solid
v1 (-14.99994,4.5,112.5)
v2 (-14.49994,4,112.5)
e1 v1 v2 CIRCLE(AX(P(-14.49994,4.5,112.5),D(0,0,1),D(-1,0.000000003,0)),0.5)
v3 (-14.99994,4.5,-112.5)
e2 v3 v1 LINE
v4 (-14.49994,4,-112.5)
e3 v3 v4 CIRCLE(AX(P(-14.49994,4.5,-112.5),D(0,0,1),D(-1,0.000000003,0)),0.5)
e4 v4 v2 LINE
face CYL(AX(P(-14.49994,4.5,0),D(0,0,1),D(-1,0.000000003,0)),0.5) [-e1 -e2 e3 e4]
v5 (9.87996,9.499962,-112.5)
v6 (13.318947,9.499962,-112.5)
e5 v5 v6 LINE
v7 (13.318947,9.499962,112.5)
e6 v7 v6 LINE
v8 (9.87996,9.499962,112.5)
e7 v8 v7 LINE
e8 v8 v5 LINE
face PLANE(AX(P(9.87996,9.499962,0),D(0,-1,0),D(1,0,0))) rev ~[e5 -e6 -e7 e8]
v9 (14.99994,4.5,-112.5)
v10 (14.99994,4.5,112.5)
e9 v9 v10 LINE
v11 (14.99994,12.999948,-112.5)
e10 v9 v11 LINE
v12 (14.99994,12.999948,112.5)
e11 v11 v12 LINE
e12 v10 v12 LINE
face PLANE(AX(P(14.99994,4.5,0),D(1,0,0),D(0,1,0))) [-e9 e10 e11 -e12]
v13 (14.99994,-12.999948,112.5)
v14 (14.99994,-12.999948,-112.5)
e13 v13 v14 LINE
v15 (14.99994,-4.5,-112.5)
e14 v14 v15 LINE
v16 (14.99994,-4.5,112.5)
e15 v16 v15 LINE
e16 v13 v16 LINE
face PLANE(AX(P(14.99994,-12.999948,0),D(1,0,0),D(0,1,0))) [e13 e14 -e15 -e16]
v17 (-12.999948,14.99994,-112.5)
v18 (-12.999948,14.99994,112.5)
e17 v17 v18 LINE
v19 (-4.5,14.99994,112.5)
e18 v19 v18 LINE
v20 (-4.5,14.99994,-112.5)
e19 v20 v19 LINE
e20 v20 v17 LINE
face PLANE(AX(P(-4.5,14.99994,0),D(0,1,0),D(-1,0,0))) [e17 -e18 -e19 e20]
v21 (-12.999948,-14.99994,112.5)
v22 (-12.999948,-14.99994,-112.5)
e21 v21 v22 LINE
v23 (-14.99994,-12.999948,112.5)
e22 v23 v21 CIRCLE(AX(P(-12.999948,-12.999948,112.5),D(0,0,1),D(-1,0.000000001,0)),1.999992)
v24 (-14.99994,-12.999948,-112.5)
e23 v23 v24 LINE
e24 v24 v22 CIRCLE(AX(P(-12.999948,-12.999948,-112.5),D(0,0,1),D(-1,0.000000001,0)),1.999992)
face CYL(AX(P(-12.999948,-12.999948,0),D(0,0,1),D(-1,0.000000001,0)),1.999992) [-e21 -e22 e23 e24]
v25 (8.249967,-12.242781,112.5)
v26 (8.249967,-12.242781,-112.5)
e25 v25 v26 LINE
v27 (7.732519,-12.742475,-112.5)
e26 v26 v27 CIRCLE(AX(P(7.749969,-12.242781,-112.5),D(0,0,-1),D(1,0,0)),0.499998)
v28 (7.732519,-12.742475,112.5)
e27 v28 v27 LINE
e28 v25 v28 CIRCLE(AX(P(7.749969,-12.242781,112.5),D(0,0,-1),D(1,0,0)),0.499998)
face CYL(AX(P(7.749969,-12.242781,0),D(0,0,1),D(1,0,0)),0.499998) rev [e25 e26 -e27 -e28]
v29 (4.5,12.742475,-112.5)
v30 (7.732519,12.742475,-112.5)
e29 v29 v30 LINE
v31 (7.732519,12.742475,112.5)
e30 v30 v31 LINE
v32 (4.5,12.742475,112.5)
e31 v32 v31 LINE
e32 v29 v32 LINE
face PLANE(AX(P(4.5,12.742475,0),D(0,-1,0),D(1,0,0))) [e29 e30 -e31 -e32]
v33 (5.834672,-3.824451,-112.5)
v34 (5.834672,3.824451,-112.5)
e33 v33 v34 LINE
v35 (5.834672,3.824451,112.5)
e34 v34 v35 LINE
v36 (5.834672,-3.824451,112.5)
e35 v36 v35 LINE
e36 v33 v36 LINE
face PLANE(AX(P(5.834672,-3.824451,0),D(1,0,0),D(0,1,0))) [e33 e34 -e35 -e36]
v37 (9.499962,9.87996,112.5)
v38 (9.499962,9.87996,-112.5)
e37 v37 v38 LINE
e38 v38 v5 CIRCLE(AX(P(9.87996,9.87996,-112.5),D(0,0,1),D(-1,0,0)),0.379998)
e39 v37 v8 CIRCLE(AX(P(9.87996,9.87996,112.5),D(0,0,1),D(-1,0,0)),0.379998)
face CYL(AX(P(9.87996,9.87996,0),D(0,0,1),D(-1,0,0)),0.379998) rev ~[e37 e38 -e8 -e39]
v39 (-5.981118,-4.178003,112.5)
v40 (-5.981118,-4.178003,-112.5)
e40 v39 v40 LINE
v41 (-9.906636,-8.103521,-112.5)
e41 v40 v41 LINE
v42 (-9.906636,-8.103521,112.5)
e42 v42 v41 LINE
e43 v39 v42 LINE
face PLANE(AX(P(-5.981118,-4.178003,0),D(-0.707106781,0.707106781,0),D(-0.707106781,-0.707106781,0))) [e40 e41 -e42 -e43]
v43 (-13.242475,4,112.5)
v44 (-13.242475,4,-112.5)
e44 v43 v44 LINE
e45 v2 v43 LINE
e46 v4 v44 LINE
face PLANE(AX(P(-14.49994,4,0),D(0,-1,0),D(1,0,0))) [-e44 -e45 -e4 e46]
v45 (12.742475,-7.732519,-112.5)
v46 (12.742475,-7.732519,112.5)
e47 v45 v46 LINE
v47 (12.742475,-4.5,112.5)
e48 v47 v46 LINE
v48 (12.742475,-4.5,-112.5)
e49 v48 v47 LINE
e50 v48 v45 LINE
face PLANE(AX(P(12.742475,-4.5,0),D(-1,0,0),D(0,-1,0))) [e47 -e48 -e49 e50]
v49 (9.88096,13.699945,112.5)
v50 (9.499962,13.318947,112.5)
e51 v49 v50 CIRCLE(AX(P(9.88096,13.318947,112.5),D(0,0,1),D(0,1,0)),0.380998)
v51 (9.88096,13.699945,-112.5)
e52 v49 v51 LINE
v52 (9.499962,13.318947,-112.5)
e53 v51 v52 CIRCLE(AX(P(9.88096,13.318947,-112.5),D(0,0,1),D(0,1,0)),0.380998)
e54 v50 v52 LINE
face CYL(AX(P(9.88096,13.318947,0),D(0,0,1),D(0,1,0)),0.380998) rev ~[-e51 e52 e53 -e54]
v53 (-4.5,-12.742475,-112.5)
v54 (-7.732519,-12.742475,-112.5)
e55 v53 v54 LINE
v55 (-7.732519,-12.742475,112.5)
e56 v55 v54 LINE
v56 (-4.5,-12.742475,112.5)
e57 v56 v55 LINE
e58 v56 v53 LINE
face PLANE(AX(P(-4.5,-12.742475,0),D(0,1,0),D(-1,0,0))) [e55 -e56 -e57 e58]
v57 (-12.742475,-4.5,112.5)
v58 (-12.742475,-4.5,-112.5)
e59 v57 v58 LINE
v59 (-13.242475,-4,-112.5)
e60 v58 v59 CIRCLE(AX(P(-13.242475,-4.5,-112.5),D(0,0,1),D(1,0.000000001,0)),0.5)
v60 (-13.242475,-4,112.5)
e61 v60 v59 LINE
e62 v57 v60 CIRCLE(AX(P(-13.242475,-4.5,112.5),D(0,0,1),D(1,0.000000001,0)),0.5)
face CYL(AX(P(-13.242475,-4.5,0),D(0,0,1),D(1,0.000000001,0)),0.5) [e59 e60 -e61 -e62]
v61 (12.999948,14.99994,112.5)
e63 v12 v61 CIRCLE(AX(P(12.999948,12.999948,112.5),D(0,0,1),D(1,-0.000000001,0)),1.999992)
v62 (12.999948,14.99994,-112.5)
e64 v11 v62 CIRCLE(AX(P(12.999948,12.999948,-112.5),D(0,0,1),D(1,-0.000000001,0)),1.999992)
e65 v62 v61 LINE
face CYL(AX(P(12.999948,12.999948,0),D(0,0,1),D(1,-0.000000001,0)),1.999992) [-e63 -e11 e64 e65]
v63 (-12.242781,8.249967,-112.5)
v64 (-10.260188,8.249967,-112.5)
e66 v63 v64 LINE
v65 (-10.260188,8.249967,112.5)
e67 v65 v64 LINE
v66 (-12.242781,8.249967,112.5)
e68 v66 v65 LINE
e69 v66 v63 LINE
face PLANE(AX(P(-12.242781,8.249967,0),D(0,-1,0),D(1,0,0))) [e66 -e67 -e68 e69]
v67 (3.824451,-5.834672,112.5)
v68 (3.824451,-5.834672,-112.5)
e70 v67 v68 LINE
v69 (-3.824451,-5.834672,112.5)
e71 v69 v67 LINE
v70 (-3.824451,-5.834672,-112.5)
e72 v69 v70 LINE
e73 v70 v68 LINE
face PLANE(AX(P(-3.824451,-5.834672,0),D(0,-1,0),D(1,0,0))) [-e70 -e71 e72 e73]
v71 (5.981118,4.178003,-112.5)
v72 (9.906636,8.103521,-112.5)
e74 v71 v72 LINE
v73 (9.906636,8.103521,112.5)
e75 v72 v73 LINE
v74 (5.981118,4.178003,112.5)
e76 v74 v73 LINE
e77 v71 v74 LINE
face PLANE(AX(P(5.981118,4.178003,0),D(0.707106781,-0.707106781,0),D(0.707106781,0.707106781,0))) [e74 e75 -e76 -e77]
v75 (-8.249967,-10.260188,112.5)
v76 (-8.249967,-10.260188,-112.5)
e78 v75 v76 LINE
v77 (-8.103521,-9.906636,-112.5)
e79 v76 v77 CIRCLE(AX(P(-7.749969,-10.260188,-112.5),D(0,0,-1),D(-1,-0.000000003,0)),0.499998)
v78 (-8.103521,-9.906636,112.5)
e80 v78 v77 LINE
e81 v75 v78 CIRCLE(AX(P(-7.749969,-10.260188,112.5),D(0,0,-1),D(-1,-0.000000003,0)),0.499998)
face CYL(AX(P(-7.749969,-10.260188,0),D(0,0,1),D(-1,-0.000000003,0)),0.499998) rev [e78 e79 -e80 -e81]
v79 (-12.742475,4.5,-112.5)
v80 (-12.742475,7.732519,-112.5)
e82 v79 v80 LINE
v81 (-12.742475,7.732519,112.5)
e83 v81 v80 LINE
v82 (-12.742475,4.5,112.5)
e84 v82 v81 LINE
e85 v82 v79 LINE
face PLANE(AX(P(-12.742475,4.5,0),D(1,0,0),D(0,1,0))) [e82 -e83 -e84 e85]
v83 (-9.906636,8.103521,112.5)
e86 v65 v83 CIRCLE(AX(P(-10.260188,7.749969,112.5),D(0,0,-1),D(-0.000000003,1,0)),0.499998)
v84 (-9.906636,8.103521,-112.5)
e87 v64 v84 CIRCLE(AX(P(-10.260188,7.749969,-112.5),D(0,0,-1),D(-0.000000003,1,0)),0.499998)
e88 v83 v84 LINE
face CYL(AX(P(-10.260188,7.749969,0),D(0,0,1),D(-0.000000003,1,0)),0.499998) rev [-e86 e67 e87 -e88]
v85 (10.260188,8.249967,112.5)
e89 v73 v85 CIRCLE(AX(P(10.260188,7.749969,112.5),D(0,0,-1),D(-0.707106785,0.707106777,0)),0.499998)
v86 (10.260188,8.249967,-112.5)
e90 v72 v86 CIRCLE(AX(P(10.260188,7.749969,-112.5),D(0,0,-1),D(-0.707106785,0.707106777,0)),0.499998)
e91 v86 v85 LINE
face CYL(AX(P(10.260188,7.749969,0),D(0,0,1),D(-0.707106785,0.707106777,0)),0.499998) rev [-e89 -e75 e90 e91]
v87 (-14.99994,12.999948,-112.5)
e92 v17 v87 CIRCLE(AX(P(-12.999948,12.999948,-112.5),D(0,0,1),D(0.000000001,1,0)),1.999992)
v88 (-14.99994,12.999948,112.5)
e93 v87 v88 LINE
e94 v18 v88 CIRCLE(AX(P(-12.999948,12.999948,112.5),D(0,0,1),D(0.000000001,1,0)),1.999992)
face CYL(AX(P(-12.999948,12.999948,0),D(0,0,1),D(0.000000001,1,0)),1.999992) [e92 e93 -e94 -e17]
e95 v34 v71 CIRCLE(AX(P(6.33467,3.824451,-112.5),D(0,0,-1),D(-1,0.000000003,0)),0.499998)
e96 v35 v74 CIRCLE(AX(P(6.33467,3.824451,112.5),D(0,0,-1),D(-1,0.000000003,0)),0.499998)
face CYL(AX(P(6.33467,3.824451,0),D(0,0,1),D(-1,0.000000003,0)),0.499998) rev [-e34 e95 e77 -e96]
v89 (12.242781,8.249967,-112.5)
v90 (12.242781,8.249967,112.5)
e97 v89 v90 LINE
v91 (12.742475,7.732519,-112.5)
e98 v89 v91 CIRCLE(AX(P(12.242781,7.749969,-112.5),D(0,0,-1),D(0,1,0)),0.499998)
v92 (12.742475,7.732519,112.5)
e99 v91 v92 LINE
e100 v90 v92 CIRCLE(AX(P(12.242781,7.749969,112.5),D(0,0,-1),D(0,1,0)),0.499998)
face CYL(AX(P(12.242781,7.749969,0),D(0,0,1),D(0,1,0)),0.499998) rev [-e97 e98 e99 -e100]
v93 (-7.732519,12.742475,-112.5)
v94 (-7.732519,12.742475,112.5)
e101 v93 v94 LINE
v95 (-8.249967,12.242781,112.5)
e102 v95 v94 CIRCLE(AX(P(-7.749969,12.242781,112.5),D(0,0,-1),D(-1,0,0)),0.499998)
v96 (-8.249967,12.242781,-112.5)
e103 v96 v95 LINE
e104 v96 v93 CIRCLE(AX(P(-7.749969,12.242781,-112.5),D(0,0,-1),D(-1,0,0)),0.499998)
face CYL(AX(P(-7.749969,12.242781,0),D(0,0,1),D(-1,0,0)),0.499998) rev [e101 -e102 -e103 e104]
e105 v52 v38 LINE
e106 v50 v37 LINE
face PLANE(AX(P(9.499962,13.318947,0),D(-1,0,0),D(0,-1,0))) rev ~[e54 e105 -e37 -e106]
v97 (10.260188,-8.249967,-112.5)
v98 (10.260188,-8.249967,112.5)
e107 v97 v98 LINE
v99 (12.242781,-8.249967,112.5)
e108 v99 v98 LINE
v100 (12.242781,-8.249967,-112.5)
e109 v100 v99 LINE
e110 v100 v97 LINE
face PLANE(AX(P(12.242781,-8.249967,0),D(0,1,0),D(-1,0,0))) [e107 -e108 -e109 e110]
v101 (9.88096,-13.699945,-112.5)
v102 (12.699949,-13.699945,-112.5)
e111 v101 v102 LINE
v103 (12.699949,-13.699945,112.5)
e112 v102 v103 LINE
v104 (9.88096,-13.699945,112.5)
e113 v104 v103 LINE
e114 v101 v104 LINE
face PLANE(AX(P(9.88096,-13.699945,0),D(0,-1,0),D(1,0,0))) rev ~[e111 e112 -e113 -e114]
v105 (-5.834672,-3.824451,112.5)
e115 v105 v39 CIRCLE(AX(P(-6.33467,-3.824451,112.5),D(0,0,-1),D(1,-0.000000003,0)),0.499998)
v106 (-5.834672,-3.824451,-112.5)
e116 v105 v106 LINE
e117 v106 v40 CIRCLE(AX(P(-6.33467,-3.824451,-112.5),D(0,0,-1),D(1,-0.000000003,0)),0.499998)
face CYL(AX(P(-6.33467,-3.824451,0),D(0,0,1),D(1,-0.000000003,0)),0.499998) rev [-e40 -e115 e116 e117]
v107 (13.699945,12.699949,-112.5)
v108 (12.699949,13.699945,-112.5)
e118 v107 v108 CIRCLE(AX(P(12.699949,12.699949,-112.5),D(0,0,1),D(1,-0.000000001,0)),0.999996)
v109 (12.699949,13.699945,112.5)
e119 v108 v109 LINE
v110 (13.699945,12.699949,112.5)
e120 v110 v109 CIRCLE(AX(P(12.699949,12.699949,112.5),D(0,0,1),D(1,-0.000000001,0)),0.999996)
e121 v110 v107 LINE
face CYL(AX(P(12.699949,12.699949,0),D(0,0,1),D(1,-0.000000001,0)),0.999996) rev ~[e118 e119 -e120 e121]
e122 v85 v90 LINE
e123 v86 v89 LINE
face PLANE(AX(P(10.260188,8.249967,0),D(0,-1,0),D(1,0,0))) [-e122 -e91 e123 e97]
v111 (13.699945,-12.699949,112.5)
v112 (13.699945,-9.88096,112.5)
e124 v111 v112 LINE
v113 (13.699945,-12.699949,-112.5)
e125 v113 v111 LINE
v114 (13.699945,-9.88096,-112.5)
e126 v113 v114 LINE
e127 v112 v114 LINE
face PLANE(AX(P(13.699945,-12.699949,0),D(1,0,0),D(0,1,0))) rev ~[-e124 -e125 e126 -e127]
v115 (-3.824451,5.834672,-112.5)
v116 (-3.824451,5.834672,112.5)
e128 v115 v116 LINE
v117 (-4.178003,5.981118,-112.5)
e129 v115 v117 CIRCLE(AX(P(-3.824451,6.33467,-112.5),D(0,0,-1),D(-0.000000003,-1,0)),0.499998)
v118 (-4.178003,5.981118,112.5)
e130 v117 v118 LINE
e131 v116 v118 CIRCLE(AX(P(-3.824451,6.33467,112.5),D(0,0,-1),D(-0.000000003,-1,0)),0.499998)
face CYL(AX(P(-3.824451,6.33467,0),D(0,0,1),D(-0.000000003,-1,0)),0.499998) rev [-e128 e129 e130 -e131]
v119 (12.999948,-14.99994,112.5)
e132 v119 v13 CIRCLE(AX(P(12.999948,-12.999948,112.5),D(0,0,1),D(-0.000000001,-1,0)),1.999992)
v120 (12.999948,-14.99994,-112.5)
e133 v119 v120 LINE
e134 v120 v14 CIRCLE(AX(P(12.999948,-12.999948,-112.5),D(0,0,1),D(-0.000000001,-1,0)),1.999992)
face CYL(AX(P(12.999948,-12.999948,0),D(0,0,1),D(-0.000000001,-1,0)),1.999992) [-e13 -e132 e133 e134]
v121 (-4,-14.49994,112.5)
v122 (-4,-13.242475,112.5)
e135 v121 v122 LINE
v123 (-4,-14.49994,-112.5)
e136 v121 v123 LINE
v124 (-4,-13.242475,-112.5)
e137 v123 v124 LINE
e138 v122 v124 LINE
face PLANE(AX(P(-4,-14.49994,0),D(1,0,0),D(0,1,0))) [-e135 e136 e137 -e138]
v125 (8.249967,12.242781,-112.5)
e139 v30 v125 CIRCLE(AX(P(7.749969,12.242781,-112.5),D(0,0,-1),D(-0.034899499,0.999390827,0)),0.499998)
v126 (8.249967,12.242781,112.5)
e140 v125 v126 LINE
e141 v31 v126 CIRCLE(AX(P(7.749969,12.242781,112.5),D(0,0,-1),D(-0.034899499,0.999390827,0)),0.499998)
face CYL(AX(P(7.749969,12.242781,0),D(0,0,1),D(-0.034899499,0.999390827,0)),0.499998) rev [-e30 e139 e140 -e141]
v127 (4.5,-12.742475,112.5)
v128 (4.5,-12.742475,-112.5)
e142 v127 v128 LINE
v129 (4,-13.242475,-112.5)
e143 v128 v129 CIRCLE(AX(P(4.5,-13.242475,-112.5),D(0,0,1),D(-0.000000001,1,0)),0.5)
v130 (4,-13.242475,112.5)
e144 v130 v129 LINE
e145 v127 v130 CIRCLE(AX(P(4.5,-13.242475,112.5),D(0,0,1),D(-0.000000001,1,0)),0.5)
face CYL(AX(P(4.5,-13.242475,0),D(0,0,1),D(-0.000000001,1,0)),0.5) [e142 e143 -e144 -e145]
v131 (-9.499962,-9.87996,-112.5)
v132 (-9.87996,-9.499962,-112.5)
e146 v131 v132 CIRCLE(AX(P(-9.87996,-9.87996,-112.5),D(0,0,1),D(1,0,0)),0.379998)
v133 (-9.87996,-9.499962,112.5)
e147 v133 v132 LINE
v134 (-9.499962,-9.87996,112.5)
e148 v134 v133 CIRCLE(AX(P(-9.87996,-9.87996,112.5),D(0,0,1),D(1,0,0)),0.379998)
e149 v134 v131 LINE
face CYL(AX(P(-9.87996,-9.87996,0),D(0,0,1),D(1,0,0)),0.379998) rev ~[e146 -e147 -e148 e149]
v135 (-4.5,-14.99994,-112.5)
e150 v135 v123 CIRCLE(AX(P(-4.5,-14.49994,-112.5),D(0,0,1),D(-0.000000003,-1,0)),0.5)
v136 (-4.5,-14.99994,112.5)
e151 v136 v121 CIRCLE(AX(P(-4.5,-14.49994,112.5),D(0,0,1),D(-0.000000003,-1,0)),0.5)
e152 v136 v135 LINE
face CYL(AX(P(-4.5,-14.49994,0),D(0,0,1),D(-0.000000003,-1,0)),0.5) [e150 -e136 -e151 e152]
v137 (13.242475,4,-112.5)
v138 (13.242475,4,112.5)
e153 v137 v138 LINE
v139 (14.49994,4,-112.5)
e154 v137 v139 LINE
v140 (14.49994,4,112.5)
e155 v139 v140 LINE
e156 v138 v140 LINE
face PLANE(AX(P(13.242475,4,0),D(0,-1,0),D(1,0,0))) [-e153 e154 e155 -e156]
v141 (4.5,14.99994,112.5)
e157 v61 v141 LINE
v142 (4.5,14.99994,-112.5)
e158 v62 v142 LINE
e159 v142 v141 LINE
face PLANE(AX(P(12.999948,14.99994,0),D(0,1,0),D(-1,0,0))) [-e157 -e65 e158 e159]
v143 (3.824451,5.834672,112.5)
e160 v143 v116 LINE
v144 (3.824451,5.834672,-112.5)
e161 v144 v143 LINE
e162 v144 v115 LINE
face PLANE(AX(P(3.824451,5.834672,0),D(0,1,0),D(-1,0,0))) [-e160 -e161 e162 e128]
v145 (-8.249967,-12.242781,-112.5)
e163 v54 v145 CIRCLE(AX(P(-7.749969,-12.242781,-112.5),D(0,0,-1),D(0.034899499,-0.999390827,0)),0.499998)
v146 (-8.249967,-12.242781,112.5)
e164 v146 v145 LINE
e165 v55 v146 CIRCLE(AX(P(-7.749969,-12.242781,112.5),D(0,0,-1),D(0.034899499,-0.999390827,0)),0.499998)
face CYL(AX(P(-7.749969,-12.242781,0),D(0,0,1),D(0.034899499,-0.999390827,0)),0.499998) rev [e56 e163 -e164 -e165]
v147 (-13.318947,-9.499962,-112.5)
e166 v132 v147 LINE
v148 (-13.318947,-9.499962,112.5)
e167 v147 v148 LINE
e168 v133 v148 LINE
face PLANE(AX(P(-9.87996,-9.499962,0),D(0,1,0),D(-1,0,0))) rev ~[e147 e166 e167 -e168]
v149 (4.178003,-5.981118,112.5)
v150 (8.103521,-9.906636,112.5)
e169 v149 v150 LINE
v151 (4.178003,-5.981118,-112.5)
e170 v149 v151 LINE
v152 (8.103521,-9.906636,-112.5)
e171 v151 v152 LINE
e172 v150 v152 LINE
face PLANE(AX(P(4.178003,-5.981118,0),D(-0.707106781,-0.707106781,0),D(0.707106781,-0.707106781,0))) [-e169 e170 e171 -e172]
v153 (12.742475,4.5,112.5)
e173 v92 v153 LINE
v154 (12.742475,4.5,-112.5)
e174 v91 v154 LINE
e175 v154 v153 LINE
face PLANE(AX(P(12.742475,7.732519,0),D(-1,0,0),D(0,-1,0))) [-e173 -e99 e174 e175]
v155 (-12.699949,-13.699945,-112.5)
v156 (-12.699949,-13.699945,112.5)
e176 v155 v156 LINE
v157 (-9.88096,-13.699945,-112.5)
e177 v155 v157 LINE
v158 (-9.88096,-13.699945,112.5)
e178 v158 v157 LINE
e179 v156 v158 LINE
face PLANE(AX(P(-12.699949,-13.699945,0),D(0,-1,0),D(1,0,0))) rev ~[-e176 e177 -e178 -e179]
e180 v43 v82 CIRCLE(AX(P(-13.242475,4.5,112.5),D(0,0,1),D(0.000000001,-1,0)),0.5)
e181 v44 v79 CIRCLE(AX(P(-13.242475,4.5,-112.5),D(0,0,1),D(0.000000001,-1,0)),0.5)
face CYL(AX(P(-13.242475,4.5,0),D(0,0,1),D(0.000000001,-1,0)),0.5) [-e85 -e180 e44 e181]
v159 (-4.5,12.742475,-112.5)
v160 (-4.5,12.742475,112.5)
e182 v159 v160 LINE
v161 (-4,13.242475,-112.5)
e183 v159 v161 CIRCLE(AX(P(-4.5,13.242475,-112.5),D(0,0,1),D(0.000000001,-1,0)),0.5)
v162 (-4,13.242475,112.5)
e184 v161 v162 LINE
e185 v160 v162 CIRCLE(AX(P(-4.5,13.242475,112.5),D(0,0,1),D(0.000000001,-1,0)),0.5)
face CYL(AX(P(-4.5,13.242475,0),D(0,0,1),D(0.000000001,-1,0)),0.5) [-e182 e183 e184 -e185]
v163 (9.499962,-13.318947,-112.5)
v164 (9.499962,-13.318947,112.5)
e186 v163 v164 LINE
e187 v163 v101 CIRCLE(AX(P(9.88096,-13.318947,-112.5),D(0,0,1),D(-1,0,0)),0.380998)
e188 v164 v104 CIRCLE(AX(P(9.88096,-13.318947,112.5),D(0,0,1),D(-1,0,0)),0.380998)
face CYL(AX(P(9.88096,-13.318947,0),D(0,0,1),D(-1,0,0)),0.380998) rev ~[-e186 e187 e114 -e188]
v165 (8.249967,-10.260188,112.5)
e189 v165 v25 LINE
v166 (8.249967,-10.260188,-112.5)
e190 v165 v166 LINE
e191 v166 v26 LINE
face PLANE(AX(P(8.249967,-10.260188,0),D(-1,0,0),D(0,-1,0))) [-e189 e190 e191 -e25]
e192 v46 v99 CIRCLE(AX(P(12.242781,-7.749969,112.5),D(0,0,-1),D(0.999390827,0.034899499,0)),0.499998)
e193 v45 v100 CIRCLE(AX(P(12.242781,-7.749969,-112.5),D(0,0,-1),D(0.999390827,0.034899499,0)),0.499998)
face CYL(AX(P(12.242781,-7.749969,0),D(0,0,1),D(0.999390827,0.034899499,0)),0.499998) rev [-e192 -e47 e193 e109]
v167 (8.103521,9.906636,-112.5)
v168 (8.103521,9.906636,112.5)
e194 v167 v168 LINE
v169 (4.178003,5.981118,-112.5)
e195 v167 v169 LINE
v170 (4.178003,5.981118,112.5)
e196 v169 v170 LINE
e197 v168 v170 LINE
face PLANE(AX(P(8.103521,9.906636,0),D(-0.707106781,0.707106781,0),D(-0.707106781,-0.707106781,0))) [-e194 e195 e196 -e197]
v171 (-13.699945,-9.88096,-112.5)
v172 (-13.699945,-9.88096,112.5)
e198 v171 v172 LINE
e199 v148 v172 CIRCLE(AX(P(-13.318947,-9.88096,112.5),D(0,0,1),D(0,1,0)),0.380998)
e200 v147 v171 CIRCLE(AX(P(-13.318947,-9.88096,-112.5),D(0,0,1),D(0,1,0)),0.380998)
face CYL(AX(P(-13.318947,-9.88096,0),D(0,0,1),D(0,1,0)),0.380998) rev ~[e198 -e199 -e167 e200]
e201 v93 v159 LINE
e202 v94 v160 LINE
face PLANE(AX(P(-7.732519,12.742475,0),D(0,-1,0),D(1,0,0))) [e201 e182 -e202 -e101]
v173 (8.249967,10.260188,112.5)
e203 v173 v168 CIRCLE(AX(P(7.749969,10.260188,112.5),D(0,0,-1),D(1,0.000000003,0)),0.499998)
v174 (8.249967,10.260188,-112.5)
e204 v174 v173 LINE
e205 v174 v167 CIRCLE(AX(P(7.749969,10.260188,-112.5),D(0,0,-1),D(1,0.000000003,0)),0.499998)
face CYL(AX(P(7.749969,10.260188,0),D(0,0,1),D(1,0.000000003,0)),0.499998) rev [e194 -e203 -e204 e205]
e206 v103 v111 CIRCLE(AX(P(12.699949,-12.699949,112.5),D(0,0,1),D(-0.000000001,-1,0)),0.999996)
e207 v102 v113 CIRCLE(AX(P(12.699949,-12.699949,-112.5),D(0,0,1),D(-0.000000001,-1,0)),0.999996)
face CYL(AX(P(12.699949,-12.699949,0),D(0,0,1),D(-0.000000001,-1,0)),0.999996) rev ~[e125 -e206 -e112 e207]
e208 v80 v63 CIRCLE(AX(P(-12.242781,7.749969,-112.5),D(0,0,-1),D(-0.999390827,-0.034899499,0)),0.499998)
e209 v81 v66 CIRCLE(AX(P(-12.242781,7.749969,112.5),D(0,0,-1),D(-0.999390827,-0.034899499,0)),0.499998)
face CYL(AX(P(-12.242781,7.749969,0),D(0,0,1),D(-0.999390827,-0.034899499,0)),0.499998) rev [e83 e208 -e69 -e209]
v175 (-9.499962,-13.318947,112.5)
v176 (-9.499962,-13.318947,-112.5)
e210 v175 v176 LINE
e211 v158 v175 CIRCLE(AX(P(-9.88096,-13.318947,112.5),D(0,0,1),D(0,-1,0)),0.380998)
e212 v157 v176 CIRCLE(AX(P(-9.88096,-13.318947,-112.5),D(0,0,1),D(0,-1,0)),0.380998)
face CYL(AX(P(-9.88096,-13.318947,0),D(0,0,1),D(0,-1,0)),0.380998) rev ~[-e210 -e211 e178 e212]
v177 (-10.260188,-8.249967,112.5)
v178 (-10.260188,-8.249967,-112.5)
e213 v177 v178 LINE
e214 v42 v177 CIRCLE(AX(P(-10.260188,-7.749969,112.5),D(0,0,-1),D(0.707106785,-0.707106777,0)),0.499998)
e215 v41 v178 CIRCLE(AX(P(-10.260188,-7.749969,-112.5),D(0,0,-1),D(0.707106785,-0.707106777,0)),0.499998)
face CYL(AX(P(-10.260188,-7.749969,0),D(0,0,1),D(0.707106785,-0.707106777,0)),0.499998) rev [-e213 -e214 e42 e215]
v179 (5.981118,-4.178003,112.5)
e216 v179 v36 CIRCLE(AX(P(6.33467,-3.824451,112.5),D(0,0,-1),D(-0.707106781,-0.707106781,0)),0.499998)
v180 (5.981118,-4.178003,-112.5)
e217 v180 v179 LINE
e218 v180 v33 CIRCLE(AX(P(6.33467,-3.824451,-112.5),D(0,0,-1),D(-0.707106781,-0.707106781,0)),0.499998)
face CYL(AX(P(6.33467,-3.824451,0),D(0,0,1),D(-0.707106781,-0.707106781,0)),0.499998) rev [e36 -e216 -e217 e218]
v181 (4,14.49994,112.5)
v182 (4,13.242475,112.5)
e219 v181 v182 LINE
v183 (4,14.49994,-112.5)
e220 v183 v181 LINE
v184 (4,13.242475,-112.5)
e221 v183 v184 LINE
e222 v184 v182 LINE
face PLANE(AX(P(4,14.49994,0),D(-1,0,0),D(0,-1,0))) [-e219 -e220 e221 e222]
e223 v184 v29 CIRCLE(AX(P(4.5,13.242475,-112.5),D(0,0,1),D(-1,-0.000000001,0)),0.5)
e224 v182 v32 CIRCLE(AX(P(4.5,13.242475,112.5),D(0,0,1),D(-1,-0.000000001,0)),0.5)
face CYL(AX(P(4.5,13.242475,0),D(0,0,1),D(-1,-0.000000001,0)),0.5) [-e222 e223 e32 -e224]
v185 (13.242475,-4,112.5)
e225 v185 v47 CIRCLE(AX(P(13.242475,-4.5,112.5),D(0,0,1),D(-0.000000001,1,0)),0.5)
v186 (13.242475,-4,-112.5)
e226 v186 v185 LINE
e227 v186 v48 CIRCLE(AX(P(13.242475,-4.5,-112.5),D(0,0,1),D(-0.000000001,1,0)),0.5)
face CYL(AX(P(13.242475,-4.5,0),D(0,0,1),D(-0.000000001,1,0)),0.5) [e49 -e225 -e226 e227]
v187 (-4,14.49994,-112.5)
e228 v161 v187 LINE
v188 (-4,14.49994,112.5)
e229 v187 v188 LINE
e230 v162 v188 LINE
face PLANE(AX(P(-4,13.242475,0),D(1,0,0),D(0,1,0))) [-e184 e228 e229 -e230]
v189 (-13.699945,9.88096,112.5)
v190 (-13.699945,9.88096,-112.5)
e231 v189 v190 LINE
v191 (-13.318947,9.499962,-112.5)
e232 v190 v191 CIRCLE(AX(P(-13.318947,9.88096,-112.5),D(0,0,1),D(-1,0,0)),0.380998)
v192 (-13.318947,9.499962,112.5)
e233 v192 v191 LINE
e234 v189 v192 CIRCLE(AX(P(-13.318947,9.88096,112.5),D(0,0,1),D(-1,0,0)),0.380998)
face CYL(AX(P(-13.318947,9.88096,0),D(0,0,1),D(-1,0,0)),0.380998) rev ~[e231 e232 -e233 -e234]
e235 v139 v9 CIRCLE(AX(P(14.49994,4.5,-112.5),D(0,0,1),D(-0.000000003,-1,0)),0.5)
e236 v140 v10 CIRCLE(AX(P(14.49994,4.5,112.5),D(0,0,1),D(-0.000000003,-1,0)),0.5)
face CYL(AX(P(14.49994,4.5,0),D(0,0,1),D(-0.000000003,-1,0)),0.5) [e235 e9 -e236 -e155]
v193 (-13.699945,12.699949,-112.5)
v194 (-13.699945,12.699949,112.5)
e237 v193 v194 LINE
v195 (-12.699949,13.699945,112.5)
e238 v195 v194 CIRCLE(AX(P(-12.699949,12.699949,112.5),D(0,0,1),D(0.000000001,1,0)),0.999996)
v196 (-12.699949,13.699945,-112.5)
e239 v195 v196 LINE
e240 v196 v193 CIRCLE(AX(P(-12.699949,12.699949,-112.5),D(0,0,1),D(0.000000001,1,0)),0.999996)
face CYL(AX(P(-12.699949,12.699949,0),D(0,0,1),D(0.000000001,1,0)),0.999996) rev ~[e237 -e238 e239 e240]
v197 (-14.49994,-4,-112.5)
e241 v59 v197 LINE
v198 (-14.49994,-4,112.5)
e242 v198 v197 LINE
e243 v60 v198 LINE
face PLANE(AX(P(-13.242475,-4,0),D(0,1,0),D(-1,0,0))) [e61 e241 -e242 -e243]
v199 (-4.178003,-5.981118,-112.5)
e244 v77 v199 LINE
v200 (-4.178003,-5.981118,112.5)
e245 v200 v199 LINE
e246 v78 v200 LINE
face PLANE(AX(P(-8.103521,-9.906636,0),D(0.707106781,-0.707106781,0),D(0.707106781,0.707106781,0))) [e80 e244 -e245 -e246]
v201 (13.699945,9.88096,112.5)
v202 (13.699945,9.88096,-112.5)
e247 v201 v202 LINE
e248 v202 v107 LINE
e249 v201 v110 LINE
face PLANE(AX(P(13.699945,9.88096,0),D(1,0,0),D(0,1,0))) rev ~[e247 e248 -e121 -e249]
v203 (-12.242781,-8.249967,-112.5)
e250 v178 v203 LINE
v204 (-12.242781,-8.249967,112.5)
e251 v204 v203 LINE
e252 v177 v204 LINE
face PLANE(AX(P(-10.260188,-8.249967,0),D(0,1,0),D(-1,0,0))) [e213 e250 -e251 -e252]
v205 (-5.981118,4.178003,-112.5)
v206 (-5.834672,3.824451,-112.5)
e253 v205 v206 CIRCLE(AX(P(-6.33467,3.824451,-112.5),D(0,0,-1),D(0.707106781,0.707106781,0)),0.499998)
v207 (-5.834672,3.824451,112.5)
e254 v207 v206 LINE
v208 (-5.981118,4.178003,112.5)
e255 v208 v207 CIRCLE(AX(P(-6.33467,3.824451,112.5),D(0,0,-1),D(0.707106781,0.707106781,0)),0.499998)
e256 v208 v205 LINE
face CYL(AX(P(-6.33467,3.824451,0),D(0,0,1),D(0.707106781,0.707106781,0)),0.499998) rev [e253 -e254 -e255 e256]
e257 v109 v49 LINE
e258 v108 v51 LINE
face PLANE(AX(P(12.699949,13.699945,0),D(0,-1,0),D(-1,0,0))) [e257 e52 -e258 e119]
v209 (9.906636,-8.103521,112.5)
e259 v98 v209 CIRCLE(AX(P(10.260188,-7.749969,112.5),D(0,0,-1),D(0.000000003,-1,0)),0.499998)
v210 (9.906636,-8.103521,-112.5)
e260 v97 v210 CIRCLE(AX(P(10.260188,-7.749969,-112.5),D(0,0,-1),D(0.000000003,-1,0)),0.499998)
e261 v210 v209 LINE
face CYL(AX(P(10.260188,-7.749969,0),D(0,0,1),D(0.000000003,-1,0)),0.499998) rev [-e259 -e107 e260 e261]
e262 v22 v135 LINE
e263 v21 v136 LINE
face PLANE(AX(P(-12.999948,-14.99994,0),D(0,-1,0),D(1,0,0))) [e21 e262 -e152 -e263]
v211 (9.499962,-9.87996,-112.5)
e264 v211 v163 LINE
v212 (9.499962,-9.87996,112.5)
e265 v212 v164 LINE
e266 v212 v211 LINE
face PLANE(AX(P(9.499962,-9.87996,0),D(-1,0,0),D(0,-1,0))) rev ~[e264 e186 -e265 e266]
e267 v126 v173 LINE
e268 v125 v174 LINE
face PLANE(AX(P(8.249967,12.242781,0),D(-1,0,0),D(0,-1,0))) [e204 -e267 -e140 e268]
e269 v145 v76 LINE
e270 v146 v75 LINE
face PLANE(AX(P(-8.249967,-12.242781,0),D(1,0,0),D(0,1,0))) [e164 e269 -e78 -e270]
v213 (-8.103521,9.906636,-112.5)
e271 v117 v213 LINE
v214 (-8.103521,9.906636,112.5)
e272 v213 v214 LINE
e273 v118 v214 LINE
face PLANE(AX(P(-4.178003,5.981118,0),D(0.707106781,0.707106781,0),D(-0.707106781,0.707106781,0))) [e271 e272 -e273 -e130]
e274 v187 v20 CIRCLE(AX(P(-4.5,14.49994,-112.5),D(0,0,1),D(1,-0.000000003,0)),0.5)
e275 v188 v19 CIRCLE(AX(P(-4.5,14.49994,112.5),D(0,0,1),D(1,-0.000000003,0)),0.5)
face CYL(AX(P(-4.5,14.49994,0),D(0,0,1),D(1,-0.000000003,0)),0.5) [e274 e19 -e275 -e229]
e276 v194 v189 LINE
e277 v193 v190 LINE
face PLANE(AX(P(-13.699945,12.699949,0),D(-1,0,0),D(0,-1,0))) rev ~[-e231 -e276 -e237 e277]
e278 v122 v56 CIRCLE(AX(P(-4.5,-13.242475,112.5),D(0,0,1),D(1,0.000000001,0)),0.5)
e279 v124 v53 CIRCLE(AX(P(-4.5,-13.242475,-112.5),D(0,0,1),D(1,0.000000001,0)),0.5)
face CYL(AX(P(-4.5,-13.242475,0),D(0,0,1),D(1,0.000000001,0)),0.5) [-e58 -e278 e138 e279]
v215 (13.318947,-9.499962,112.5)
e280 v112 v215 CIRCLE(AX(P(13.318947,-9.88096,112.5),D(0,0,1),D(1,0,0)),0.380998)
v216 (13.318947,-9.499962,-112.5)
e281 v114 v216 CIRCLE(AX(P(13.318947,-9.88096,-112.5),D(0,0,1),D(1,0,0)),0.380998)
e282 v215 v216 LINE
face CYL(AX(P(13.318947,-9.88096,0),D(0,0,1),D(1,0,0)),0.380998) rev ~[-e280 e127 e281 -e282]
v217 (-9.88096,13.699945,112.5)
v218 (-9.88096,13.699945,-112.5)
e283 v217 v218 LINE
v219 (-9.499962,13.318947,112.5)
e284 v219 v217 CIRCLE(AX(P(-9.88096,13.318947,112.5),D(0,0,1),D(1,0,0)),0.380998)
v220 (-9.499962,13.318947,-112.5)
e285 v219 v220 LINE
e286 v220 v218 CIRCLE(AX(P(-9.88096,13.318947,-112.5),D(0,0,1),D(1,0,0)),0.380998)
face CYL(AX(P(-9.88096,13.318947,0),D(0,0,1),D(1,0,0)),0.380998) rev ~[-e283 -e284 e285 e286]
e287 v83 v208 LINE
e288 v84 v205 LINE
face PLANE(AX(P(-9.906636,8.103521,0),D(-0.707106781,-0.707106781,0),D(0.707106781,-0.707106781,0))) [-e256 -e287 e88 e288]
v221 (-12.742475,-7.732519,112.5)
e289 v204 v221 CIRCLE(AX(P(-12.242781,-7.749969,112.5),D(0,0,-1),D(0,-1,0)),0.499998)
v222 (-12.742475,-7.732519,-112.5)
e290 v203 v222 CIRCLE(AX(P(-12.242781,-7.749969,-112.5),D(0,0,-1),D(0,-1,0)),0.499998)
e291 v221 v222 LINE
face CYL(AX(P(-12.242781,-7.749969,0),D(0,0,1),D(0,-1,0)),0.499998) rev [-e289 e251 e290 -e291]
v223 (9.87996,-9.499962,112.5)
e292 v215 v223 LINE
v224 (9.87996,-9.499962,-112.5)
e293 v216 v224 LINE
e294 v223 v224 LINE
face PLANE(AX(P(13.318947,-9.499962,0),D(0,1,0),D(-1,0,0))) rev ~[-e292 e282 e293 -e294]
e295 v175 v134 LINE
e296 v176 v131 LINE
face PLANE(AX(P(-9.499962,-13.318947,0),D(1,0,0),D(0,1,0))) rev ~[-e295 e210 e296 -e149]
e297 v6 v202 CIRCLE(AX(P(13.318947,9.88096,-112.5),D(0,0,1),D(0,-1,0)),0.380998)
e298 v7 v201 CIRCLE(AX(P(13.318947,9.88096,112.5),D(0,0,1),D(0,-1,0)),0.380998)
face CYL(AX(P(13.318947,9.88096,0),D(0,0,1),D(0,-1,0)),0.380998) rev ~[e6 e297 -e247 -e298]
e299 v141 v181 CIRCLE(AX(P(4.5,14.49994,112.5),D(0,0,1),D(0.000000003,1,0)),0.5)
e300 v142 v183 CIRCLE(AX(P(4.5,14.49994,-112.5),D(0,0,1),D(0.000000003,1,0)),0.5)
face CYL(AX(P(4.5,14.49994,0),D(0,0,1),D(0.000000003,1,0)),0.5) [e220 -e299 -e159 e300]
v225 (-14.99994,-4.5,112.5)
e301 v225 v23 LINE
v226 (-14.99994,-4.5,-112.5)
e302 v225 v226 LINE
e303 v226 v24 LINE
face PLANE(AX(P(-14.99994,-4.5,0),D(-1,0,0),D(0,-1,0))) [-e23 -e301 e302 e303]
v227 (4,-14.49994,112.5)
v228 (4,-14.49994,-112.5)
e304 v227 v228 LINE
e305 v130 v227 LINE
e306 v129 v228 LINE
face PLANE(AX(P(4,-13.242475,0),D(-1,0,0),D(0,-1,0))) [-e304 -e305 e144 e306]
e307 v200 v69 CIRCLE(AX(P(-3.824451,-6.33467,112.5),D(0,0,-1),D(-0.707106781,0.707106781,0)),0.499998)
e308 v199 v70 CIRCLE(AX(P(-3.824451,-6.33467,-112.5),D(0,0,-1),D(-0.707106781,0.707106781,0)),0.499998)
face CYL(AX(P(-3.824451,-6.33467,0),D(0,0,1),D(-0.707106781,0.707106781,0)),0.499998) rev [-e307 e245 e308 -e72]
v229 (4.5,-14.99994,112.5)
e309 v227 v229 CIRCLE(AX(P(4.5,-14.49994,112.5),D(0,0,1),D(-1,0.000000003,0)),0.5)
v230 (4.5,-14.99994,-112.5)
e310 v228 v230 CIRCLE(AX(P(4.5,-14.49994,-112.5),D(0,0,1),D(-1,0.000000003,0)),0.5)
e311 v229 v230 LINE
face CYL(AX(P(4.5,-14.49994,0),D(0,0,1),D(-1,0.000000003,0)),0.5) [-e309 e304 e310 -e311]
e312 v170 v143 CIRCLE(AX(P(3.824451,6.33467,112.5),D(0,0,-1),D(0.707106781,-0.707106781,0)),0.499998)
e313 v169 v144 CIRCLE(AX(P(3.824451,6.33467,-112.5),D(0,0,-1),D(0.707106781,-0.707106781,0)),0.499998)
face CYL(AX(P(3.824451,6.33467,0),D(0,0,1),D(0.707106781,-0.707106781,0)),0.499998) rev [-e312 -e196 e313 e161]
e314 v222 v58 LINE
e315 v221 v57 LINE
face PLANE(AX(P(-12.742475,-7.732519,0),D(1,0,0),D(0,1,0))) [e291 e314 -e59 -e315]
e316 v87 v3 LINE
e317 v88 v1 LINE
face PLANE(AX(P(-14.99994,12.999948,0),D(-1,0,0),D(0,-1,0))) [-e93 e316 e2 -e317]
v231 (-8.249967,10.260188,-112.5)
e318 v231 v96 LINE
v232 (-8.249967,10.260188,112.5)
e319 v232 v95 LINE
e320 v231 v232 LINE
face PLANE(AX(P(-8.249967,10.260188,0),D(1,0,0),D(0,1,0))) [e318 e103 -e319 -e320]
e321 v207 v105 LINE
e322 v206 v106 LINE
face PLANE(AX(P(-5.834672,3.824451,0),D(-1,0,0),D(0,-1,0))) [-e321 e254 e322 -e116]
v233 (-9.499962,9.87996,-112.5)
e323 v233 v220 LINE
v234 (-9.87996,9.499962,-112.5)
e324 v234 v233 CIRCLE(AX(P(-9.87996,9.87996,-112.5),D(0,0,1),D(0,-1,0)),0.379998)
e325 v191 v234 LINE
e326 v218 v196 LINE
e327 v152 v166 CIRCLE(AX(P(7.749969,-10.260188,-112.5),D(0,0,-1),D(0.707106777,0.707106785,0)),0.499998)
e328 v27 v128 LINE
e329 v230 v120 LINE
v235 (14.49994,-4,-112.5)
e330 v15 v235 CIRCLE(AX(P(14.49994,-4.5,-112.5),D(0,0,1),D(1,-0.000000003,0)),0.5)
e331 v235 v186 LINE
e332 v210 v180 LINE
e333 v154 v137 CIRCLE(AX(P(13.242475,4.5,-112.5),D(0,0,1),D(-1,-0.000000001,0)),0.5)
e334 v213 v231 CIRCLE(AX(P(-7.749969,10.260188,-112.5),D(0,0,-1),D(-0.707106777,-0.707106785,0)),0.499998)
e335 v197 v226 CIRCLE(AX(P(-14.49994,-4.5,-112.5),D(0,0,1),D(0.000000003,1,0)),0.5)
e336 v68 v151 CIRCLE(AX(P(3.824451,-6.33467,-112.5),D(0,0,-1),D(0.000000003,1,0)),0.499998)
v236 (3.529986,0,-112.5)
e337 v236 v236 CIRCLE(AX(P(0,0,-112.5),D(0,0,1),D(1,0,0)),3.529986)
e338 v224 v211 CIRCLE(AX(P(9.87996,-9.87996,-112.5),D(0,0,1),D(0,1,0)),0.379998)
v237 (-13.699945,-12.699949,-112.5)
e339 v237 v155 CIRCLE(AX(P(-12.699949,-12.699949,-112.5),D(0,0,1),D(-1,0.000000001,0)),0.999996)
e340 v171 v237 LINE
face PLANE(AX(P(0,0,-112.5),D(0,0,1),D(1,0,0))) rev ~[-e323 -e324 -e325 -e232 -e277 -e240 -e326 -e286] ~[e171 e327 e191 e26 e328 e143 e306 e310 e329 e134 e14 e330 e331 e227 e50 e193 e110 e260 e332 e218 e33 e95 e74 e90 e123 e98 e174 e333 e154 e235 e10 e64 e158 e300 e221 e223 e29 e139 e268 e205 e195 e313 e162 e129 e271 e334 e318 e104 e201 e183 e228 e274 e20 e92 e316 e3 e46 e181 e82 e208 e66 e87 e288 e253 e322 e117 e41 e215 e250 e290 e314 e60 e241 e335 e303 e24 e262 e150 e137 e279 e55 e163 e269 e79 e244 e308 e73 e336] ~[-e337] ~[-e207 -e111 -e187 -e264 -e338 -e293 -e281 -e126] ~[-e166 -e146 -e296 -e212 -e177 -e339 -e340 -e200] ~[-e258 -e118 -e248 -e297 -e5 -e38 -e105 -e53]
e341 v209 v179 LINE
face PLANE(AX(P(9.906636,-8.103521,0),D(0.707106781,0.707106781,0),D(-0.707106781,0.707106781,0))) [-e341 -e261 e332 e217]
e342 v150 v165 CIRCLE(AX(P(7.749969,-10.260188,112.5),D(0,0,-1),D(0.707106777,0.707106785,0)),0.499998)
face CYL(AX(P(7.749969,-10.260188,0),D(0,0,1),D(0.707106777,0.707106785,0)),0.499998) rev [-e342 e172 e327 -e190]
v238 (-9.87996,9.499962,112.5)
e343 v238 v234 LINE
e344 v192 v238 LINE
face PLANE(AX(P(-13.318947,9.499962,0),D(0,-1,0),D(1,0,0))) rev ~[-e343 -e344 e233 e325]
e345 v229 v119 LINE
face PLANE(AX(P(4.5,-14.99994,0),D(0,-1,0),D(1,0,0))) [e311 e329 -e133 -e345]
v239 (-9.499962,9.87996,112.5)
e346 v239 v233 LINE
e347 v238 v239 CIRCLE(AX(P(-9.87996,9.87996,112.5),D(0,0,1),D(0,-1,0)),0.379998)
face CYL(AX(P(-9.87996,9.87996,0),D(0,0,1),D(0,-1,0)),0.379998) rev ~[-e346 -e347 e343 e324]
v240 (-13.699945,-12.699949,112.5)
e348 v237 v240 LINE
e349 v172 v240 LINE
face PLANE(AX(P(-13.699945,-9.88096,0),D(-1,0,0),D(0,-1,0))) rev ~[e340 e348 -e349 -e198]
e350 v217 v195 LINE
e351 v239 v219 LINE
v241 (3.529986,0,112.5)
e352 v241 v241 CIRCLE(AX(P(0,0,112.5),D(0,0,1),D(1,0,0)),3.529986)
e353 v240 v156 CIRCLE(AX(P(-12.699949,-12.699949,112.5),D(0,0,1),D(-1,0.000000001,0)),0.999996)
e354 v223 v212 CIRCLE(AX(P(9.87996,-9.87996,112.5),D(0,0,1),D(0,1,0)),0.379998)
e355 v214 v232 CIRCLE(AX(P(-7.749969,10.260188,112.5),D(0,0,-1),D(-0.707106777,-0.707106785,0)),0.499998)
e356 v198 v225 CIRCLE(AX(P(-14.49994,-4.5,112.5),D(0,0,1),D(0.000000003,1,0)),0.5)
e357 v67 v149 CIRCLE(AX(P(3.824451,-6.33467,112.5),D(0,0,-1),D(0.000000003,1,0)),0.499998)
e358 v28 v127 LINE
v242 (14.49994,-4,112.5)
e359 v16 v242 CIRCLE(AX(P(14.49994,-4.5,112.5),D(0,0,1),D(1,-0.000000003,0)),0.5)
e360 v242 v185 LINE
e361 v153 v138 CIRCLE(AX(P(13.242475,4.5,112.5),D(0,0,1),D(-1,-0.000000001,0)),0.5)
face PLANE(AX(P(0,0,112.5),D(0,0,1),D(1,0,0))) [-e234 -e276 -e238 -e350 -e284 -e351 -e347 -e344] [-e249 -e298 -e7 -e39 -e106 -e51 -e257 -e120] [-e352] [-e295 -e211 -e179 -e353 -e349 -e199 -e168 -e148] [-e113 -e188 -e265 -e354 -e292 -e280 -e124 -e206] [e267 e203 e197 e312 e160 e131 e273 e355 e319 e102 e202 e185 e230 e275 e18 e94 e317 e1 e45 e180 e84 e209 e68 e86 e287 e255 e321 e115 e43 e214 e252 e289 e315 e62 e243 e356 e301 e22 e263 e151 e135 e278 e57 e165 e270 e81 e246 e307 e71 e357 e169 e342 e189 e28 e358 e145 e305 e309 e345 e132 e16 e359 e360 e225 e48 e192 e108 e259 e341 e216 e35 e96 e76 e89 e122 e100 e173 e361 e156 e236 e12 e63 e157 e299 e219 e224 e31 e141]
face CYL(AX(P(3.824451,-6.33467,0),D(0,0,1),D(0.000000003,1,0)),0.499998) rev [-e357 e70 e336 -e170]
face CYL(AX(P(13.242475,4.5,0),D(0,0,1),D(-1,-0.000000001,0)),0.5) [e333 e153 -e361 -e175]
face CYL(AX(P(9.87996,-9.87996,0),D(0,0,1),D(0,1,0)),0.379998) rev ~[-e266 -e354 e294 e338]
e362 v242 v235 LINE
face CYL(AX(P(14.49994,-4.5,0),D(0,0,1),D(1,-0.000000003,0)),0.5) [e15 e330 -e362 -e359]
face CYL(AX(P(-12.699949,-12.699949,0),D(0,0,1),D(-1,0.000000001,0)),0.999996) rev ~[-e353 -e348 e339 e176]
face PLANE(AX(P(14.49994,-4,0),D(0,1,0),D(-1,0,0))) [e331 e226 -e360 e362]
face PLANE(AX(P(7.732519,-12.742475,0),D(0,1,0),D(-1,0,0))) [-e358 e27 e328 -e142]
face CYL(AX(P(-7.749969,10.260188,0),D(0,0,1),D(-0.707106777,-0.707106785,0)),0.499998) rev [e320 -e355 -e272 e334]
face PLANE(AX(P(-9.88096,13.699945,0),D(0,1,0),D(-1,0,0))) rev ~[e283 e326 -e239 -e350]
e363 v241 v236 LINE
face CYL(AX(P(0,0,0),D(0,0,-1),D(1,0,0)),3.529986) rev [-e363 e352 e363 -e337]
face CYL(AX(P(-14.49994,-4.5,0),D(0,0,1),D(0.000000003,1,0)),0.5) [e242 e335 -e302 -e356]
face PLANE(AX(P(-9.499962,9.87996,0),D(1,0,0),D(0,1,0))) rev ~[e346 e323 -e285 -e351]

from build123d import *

# Parameters (mm, degrees)
SKETCH1_R           = 3.52998588
BOSS_EXTRUDE1_DEPTH = 112.5


with BuildPart() as part:
    # Sketch1 → Boss-Extrude1 (new body, symmetric)
    with BuildSketch(Plane.XY):
        with BuildLine():
            Line((14.49994, -4), (13.24247465, -4))
            ThreePointArc((13.24247465, -4), (12.88892126, -4.146446609), (12.74247465, -4.5))
            Line((12.74247465, -4.5), (12.74247465, -7.732519321))
            ThreePointArc((12.74247465, -7.732519321), (12.602449697, -8.097296796), (12.242781236, -8.249967))
            Line((12.242781236, -8.249967), (10.260188032, -8.249967))
            ThreePointArc((10.260188032, -8.249967), (10.068847082, -8.211906919), (9.906636056, -8.103520976))
            Line((9.906636056, -8.103520976), (5.981117769, -4.178002689))
            ThreePointArc((5.981117769, -4.178002689), (5.872731827, -4.015791664), (5.834671745, -3.824450713))
            Line((5.834671745, -3.824450713), (5.834671745, -1.01249595))
            Line((5.834671745, -1.01249595), (5.834671745, 0.88749645))
            Line((5.834671745, 0.88749645), (5.834671745, 3.824450713))
            ThreePointArc((5.834671745, 3.824450713), (5.872731827, 4.015791664), (5.981117769, 4.178002689))
            Line((5.981117769, 4.178002689), (9.906636056, 8.103520976))
            ThreePointArc((9.906636056, 8.103520976), (10.068847082, 8.211906919), (10.260188032, 8.249967))
            Line((10.260188032, 8.249967), (12.242781236, 8.249967))
            ThreePointArc((12.242781236, 8.249967), (12.602449697, 8.097296796), (12.74247465, 7.732519321))
            Line((12.74247465, 7.732519321), (12.74247465, 4.5))
            ThreePointArc((12.74247465, 4.5), (12.88892126, 4.146446609), (13.24247465, 4))
            Line((13.24247465, 4), (14.49994, 4))
            ThreePointArc((14.49994, 4), (14.853493391, 4.146446609), (14.99994, 4.5))
            Line((14.99994, 4.5), (14.99994, 12.999948))
            ThreePointArc((14.99994, 12.999948), (14.414155906, 14.414155906), (12.999948, 14.99994))
            Line((12.999948, 14.99994), (4.5, 14.99994))
            ThreePointArc((4.5, 14.99994), (4.146446609, 14.853493391), (4, 14.49994))
            Line((4, 14.49994), (4, 13.24247465))
            ThreePointArc((4, 13.24247465), (4.146446609, 12.88892126), (4.5, 12.74247465))
            Line((4.5, 12.74247465), (7.732519321, 12.74247465))
            ThreePointArc((7.732519321, 12.74247465), (8.097296796, 12.602449697), (8.249967, 12.242781236))
            Line((8.249967, 12.242781236), (8.249967, 10.260188032))
            ThreePointArc((8.249967, 10.260188032), (8.211906919, 10.068847082), (8.103520976, 9.906636056))
            Line((8.103520976, 9.906636056), (4.178002689, 5.981117769))
            ThreePointArc((4.178002689, 5.981117769), (4.015791664, 5.872731827), (3.824450713, 5.834671745))
            Line((3.824450713, 5.834671745), (0.9499962, 5.834671745))
            Line((0.9499962, 5.834671745), (-0.9499962, 5.834671745))
            Line((-0.9499962, 5.834671745), (-3.824450713, 5.834671745))
            ThreePointArc((-3.824450713, 5.834671745), (-4.015791664, 5.872731827), (-4.178002689, 5.981117769))
            Line((-4.178002689, 5.981117769), (-8.103520976, 9.906636056))
            ThreePointArc((-8.103520976, 9.906636056), (-8.211906919, 10.068847082), (-8.249967, 10.260188032))
            Line((-8.249967, 10.260188032), (-8.249967, 12.242781236))
            ThreePointArc((-8.249967, 12.242781236), (-8.097296796, 12.602449697), (-7.732519321, 12.74247465))
            Line((-7.732519321, 12.74247465), (-4.5, 12.74247465))
            ThreePointArc((-4.5, 12.74247465), (-4.146446609, 12.88892126), (-4, 13.24247465))
            Line((-4, 13.24247465), (-4, 14.49994))
            ThreePointArc((-4, 14.49994), (-4.146446609, 14.853493391), (-4.5, 14.99994))
            Line((-4.5, 14.99994), (-12.999948, 14.99994))
            ThreePointArc((-12.999948, 14.99994), (-14.414155906, 14.414155906), (-14.99994, 12.999948))
            Line((-14.99994, 12.999948), (-14.99994, 4.5))
            ThreePointArc((-14.99994, 4.5), (-14.853493391, 4.146446609), (-14.49994, 4))
            Line((-14.49994, 4), (-13.24247465, 4))
            ThreePointArc((-13.24247465, 4), (-12.88892126, 4.146446609), (-12.74247465, 4.5))
            Line((-12.74247465, 4.5), (-12.74247465, 7.732519321))
            ThreePointArc((-12.74247465, 7.732519321), (-12.602449697, 8.097296796), (-12.242781236, 8.249967))
            Line((-12.242781236, 8.249967), (-10.260188032, 8.249967))
            ThreePointArc((-10.260188032, 8.249967), (-10.068847082, 8.211906919), (-9.906636056, 8.103520976))
            Line((-9.906636056, 8.103520976), (-5.981117769, 4.178002689))
            ThreePointArc((-5.981117769, 4.178002689), (-5.872731827, 4.015791664), (-5.834671745, 3.824450713))
            Line((-5.834671745, 3.824450713), (-5.834671745, 0.88749645))
            Line((-5.834671745, 0.88749645), (-5.834671745, -1.01249595))
            Line((-5.834671745, -1.01249595), (-5.834671745, -3.824450713))
            ThreePointArc((-5.834671745, -3.824450713), (-5.872731827, -4.015791664), (-5.981117769, -4.178002689))
            Line((-5.981117769, -4.178002689), (-9.906636056, -8.103520976))
            ThreePointArc((-9.906636056, -8.103520976), (-10.068847082, -8.211906919), (-10.260188032, -8.249967))
            Line((-10.260188032, -8.249967), (-12.242781236, -8.249967))
            ThreePointArc((-12.242781236, -8.249967), (-12.602449697, -8.097296796), (-12.74247465, -7.732519321))
            Line((-12.74247465, -7.732519321), (-12.74247465, -4.5))
            ThreePointArc((-12.74247465, -4.5), (-12.88892126, -4.146446609), (-13.24247465, -4))
            Line((-13.24247465, -4), (-14.49994, -4))
            ThreePointArc((-14.49994, -4), (-14.853493391, -4.146446609), (-14.99994, -4.5))
            Line((-14.99994, -4.5), (-14.99994, -12.999948))
            ThreePointArc((-14.99994, -12.999948), (-14.414155906, -14.414155906), (-12.999948, -14.99994))
            Line((-12.999948, -14.99994), (-4.5, -14.99994))
            ThreePointArc((-4.5, -14.99994), (-4.146446609, -14.853493391), (-4, -14.49994))
            Line((-4, -14.49994), (-4, -13.24247465))
            ThreePointArc((-4, -13.24247465), (-4.146446609, -12.88892126), (-4.5, -12.74247465))
            Line((-4.5, -12.74247465), (-7.732519321, -12.74247465))
            ThreePointArc((-7.732519321, -12.74247465), (-8.097296796, -12.602449697), (-8.249967, -12.242781236))
            Line((-8.249967, -12.242781236), (-8.249967, -10.260188032))
            ThreePointArc((-8.249967, -10.260188032), (-8.211906919, -10.068847082), (-8.103520976, -9.906636056))
            Line((-8.103520976, -9.906636056), (-4.178002689, -5.981117769))
            ThreePointArc((-4.178002689, -5.981117769), (-4.015791664, -5.872731827), (-3.824450713, -5.834671745))
            Line((-3.824450713, -5.834671745), (-0.9499962, -5.834671745))
            Line((-0.9499962, -5.834671745), (0.9499962, -5.834671745))
            Line((0.9499962, -5.834671745), (3.824450713, -5.834671745))
            ThreePointArc((3.824450713, -5.834671745), (4.015791664, -5.872731827), (4.178002689, -5.981117769))
            Line((4.178002689, -5.981117769), (8.103520976, -9.906636056))
            ThreePointArc((8.103520976, -9.906636056), (8.211906919, -10.068847082), (8.249967, -10.260188032))
            Line((8.249967, -10.260188032), (8.249967, -12.242781236))
            ThreePointArc((8.249967, -12.242781236), (8.097296796, -12.602449697), (7.732519321, -12.74247465))
            Line((7.732519321, -12.74247465), (4.5, -12.74247465))
            ThreePointArc((4.5, -12.74247465), (4.146446609, -12.88892126), (4, -13.24247465))
            Line((4, -13.24247465), (4, -14.49994))
            ThreePointArc((4, -14.49994), (4.146446609, -14.853493391), (4.5, -14.99994))
            Line((4.5, -14.99994), (12.999948, -14.99994))
            ThreePointArc((12.999948, -14.99994), (14.414155906, -14.414155906), (14.99994, -12.999948))
            Line((14.99994, -12.999948), (14.99994, -4.5))
            ThreePointArc((14.99994, -4.5), (14.853493391, -4.146446609), (14.49994, -4))
        make_face()
        Circle(SKETCH1_R, mode=Mode.SUBTRACT)
        with BuildLine():
            Line((-12.6999492, -13.6999452), (-9.880960476, -13.6999452))
            ThreePointArc((-9.880960476, -13.6999452), (-9.61155387, -13.58835333), (-9.499962, -13.318946724))
            Line((-9.499962, -13.318946724), (-9.499962, -9.87996048))
            ThreePointArc((-9.499962, -9.87996048), (-9.611260978, -9.611260978), (-9.87996048, -9.499962))
            Line((-9.87996048, -9.499962), (-13.318946724, -9.499962))
            ThreePointArc((-13.318946724, -9.499962), (-13.58835333, -9.61155387), (-13.6999452, -9.880960476))
            Line((-13.6999452, -9.880960476), (-13.6999452, -12.6999492))
            ThreePointArc((-13.6999452, -12.6999492), (-13.407053153, -13.407053153), (-12.6999492, -13.6999452))
        make_face(mode=Mode.SUBTRACT)
        with BuildLine():
            Line((13.6999452, -12.6999492), (13.6999452, -9.880960476))
            ThreePointArc((13.6999452, -9.880960476), (13.58835333, -9.61155387), (13.318946724, -9.499962))
            Line((13.318946724, -9.499962), (9.87996048, -9.499962))
            ThreePointArc((9.87996048, -9.499962), (9.611260978, -9.611260978), (9.499962, -9.87996048))
            Line((9.499962, -9.87996048), (9.499962, -13.318946724))
            ThreePointArc((9.499962, -13.318946724), (9.61155387, -13.58835333), (9.880960476, -13.6999452))
            Line((9.880960476, -13.6999452), (12.6999492, -13.6999452))
            ThreePointArc((12.6999492, -13.6999452), (13.407053153, -13.407053153), (13.6999452, -12.6999492))
        make_face(mode=Mode.SUBTRACT)
        with BuildLine():
            Line((9.87996048, 9.499962), (13.318946724, 9.499962))
            ThreePointArc((13.318946724, 9.499962), (13.58835333, 9.61155387), (13.6999452, 9.880960476))
            Line((13.6999452, 9.880960476), (13.6999452, 12.6999492))
            ThreePointArc((13.6999452, 12.6999492), (13.407053153, 13.407053153), (12.6999492, 13.6999452))
            Line((12.6999492, 13.6999452), (9.880960476, 13.6999452))
            ThreePointArc((9.880960476, 13.6999452), (9.61155387, 13.58835333), (9.499962, 13.318946724))
            Line((9.499962, 13.318946724), (9.499962, 9.87996048))
            ThreePointArc((9.499962, 9.87996048), (9.611260978, 9.611260978), (9.87996048, 9.499962))
        make_face(mode=Mode.SUBTRACT)
        with BuildLine():
            Line((-13.6999452, 12.6999492), (-13.6999452, 9.880960476))
            ThreePointArc((-13.6999452, 9.880960476), (-13.58835333, 9.61155387), (-13.318946724, 9.499962))
            Line((-13.318946724, 9.499962), (-9.87996048, 9.499962))
            ThreePointArc((-9.87996048, 9.499962), (-9.611260978, 9.611260978), (-9.499962, 9.87996048))
            Line((-9.499962, 9.87996048), (-9.499962, 13.318946724))
            ThreePointArc((-9.499962, 13.318946724), (-9.61155387, 13.58835333), (-9.880960476, 13.6999452))
            Line((-9.880960476, 13.6999452), (-12.6999492, 13.6999452))
            ThreePointArc((-12.6999492, 13.6999452), (-13.407053153, 13.407053153), (-13.6999452, 12.6999492))
        make_face(mode=Mode.SUBTRACT)
    extrude(amount=BOSS_EXTRUDE1_DEPTH, both=True)


solid = part.part
